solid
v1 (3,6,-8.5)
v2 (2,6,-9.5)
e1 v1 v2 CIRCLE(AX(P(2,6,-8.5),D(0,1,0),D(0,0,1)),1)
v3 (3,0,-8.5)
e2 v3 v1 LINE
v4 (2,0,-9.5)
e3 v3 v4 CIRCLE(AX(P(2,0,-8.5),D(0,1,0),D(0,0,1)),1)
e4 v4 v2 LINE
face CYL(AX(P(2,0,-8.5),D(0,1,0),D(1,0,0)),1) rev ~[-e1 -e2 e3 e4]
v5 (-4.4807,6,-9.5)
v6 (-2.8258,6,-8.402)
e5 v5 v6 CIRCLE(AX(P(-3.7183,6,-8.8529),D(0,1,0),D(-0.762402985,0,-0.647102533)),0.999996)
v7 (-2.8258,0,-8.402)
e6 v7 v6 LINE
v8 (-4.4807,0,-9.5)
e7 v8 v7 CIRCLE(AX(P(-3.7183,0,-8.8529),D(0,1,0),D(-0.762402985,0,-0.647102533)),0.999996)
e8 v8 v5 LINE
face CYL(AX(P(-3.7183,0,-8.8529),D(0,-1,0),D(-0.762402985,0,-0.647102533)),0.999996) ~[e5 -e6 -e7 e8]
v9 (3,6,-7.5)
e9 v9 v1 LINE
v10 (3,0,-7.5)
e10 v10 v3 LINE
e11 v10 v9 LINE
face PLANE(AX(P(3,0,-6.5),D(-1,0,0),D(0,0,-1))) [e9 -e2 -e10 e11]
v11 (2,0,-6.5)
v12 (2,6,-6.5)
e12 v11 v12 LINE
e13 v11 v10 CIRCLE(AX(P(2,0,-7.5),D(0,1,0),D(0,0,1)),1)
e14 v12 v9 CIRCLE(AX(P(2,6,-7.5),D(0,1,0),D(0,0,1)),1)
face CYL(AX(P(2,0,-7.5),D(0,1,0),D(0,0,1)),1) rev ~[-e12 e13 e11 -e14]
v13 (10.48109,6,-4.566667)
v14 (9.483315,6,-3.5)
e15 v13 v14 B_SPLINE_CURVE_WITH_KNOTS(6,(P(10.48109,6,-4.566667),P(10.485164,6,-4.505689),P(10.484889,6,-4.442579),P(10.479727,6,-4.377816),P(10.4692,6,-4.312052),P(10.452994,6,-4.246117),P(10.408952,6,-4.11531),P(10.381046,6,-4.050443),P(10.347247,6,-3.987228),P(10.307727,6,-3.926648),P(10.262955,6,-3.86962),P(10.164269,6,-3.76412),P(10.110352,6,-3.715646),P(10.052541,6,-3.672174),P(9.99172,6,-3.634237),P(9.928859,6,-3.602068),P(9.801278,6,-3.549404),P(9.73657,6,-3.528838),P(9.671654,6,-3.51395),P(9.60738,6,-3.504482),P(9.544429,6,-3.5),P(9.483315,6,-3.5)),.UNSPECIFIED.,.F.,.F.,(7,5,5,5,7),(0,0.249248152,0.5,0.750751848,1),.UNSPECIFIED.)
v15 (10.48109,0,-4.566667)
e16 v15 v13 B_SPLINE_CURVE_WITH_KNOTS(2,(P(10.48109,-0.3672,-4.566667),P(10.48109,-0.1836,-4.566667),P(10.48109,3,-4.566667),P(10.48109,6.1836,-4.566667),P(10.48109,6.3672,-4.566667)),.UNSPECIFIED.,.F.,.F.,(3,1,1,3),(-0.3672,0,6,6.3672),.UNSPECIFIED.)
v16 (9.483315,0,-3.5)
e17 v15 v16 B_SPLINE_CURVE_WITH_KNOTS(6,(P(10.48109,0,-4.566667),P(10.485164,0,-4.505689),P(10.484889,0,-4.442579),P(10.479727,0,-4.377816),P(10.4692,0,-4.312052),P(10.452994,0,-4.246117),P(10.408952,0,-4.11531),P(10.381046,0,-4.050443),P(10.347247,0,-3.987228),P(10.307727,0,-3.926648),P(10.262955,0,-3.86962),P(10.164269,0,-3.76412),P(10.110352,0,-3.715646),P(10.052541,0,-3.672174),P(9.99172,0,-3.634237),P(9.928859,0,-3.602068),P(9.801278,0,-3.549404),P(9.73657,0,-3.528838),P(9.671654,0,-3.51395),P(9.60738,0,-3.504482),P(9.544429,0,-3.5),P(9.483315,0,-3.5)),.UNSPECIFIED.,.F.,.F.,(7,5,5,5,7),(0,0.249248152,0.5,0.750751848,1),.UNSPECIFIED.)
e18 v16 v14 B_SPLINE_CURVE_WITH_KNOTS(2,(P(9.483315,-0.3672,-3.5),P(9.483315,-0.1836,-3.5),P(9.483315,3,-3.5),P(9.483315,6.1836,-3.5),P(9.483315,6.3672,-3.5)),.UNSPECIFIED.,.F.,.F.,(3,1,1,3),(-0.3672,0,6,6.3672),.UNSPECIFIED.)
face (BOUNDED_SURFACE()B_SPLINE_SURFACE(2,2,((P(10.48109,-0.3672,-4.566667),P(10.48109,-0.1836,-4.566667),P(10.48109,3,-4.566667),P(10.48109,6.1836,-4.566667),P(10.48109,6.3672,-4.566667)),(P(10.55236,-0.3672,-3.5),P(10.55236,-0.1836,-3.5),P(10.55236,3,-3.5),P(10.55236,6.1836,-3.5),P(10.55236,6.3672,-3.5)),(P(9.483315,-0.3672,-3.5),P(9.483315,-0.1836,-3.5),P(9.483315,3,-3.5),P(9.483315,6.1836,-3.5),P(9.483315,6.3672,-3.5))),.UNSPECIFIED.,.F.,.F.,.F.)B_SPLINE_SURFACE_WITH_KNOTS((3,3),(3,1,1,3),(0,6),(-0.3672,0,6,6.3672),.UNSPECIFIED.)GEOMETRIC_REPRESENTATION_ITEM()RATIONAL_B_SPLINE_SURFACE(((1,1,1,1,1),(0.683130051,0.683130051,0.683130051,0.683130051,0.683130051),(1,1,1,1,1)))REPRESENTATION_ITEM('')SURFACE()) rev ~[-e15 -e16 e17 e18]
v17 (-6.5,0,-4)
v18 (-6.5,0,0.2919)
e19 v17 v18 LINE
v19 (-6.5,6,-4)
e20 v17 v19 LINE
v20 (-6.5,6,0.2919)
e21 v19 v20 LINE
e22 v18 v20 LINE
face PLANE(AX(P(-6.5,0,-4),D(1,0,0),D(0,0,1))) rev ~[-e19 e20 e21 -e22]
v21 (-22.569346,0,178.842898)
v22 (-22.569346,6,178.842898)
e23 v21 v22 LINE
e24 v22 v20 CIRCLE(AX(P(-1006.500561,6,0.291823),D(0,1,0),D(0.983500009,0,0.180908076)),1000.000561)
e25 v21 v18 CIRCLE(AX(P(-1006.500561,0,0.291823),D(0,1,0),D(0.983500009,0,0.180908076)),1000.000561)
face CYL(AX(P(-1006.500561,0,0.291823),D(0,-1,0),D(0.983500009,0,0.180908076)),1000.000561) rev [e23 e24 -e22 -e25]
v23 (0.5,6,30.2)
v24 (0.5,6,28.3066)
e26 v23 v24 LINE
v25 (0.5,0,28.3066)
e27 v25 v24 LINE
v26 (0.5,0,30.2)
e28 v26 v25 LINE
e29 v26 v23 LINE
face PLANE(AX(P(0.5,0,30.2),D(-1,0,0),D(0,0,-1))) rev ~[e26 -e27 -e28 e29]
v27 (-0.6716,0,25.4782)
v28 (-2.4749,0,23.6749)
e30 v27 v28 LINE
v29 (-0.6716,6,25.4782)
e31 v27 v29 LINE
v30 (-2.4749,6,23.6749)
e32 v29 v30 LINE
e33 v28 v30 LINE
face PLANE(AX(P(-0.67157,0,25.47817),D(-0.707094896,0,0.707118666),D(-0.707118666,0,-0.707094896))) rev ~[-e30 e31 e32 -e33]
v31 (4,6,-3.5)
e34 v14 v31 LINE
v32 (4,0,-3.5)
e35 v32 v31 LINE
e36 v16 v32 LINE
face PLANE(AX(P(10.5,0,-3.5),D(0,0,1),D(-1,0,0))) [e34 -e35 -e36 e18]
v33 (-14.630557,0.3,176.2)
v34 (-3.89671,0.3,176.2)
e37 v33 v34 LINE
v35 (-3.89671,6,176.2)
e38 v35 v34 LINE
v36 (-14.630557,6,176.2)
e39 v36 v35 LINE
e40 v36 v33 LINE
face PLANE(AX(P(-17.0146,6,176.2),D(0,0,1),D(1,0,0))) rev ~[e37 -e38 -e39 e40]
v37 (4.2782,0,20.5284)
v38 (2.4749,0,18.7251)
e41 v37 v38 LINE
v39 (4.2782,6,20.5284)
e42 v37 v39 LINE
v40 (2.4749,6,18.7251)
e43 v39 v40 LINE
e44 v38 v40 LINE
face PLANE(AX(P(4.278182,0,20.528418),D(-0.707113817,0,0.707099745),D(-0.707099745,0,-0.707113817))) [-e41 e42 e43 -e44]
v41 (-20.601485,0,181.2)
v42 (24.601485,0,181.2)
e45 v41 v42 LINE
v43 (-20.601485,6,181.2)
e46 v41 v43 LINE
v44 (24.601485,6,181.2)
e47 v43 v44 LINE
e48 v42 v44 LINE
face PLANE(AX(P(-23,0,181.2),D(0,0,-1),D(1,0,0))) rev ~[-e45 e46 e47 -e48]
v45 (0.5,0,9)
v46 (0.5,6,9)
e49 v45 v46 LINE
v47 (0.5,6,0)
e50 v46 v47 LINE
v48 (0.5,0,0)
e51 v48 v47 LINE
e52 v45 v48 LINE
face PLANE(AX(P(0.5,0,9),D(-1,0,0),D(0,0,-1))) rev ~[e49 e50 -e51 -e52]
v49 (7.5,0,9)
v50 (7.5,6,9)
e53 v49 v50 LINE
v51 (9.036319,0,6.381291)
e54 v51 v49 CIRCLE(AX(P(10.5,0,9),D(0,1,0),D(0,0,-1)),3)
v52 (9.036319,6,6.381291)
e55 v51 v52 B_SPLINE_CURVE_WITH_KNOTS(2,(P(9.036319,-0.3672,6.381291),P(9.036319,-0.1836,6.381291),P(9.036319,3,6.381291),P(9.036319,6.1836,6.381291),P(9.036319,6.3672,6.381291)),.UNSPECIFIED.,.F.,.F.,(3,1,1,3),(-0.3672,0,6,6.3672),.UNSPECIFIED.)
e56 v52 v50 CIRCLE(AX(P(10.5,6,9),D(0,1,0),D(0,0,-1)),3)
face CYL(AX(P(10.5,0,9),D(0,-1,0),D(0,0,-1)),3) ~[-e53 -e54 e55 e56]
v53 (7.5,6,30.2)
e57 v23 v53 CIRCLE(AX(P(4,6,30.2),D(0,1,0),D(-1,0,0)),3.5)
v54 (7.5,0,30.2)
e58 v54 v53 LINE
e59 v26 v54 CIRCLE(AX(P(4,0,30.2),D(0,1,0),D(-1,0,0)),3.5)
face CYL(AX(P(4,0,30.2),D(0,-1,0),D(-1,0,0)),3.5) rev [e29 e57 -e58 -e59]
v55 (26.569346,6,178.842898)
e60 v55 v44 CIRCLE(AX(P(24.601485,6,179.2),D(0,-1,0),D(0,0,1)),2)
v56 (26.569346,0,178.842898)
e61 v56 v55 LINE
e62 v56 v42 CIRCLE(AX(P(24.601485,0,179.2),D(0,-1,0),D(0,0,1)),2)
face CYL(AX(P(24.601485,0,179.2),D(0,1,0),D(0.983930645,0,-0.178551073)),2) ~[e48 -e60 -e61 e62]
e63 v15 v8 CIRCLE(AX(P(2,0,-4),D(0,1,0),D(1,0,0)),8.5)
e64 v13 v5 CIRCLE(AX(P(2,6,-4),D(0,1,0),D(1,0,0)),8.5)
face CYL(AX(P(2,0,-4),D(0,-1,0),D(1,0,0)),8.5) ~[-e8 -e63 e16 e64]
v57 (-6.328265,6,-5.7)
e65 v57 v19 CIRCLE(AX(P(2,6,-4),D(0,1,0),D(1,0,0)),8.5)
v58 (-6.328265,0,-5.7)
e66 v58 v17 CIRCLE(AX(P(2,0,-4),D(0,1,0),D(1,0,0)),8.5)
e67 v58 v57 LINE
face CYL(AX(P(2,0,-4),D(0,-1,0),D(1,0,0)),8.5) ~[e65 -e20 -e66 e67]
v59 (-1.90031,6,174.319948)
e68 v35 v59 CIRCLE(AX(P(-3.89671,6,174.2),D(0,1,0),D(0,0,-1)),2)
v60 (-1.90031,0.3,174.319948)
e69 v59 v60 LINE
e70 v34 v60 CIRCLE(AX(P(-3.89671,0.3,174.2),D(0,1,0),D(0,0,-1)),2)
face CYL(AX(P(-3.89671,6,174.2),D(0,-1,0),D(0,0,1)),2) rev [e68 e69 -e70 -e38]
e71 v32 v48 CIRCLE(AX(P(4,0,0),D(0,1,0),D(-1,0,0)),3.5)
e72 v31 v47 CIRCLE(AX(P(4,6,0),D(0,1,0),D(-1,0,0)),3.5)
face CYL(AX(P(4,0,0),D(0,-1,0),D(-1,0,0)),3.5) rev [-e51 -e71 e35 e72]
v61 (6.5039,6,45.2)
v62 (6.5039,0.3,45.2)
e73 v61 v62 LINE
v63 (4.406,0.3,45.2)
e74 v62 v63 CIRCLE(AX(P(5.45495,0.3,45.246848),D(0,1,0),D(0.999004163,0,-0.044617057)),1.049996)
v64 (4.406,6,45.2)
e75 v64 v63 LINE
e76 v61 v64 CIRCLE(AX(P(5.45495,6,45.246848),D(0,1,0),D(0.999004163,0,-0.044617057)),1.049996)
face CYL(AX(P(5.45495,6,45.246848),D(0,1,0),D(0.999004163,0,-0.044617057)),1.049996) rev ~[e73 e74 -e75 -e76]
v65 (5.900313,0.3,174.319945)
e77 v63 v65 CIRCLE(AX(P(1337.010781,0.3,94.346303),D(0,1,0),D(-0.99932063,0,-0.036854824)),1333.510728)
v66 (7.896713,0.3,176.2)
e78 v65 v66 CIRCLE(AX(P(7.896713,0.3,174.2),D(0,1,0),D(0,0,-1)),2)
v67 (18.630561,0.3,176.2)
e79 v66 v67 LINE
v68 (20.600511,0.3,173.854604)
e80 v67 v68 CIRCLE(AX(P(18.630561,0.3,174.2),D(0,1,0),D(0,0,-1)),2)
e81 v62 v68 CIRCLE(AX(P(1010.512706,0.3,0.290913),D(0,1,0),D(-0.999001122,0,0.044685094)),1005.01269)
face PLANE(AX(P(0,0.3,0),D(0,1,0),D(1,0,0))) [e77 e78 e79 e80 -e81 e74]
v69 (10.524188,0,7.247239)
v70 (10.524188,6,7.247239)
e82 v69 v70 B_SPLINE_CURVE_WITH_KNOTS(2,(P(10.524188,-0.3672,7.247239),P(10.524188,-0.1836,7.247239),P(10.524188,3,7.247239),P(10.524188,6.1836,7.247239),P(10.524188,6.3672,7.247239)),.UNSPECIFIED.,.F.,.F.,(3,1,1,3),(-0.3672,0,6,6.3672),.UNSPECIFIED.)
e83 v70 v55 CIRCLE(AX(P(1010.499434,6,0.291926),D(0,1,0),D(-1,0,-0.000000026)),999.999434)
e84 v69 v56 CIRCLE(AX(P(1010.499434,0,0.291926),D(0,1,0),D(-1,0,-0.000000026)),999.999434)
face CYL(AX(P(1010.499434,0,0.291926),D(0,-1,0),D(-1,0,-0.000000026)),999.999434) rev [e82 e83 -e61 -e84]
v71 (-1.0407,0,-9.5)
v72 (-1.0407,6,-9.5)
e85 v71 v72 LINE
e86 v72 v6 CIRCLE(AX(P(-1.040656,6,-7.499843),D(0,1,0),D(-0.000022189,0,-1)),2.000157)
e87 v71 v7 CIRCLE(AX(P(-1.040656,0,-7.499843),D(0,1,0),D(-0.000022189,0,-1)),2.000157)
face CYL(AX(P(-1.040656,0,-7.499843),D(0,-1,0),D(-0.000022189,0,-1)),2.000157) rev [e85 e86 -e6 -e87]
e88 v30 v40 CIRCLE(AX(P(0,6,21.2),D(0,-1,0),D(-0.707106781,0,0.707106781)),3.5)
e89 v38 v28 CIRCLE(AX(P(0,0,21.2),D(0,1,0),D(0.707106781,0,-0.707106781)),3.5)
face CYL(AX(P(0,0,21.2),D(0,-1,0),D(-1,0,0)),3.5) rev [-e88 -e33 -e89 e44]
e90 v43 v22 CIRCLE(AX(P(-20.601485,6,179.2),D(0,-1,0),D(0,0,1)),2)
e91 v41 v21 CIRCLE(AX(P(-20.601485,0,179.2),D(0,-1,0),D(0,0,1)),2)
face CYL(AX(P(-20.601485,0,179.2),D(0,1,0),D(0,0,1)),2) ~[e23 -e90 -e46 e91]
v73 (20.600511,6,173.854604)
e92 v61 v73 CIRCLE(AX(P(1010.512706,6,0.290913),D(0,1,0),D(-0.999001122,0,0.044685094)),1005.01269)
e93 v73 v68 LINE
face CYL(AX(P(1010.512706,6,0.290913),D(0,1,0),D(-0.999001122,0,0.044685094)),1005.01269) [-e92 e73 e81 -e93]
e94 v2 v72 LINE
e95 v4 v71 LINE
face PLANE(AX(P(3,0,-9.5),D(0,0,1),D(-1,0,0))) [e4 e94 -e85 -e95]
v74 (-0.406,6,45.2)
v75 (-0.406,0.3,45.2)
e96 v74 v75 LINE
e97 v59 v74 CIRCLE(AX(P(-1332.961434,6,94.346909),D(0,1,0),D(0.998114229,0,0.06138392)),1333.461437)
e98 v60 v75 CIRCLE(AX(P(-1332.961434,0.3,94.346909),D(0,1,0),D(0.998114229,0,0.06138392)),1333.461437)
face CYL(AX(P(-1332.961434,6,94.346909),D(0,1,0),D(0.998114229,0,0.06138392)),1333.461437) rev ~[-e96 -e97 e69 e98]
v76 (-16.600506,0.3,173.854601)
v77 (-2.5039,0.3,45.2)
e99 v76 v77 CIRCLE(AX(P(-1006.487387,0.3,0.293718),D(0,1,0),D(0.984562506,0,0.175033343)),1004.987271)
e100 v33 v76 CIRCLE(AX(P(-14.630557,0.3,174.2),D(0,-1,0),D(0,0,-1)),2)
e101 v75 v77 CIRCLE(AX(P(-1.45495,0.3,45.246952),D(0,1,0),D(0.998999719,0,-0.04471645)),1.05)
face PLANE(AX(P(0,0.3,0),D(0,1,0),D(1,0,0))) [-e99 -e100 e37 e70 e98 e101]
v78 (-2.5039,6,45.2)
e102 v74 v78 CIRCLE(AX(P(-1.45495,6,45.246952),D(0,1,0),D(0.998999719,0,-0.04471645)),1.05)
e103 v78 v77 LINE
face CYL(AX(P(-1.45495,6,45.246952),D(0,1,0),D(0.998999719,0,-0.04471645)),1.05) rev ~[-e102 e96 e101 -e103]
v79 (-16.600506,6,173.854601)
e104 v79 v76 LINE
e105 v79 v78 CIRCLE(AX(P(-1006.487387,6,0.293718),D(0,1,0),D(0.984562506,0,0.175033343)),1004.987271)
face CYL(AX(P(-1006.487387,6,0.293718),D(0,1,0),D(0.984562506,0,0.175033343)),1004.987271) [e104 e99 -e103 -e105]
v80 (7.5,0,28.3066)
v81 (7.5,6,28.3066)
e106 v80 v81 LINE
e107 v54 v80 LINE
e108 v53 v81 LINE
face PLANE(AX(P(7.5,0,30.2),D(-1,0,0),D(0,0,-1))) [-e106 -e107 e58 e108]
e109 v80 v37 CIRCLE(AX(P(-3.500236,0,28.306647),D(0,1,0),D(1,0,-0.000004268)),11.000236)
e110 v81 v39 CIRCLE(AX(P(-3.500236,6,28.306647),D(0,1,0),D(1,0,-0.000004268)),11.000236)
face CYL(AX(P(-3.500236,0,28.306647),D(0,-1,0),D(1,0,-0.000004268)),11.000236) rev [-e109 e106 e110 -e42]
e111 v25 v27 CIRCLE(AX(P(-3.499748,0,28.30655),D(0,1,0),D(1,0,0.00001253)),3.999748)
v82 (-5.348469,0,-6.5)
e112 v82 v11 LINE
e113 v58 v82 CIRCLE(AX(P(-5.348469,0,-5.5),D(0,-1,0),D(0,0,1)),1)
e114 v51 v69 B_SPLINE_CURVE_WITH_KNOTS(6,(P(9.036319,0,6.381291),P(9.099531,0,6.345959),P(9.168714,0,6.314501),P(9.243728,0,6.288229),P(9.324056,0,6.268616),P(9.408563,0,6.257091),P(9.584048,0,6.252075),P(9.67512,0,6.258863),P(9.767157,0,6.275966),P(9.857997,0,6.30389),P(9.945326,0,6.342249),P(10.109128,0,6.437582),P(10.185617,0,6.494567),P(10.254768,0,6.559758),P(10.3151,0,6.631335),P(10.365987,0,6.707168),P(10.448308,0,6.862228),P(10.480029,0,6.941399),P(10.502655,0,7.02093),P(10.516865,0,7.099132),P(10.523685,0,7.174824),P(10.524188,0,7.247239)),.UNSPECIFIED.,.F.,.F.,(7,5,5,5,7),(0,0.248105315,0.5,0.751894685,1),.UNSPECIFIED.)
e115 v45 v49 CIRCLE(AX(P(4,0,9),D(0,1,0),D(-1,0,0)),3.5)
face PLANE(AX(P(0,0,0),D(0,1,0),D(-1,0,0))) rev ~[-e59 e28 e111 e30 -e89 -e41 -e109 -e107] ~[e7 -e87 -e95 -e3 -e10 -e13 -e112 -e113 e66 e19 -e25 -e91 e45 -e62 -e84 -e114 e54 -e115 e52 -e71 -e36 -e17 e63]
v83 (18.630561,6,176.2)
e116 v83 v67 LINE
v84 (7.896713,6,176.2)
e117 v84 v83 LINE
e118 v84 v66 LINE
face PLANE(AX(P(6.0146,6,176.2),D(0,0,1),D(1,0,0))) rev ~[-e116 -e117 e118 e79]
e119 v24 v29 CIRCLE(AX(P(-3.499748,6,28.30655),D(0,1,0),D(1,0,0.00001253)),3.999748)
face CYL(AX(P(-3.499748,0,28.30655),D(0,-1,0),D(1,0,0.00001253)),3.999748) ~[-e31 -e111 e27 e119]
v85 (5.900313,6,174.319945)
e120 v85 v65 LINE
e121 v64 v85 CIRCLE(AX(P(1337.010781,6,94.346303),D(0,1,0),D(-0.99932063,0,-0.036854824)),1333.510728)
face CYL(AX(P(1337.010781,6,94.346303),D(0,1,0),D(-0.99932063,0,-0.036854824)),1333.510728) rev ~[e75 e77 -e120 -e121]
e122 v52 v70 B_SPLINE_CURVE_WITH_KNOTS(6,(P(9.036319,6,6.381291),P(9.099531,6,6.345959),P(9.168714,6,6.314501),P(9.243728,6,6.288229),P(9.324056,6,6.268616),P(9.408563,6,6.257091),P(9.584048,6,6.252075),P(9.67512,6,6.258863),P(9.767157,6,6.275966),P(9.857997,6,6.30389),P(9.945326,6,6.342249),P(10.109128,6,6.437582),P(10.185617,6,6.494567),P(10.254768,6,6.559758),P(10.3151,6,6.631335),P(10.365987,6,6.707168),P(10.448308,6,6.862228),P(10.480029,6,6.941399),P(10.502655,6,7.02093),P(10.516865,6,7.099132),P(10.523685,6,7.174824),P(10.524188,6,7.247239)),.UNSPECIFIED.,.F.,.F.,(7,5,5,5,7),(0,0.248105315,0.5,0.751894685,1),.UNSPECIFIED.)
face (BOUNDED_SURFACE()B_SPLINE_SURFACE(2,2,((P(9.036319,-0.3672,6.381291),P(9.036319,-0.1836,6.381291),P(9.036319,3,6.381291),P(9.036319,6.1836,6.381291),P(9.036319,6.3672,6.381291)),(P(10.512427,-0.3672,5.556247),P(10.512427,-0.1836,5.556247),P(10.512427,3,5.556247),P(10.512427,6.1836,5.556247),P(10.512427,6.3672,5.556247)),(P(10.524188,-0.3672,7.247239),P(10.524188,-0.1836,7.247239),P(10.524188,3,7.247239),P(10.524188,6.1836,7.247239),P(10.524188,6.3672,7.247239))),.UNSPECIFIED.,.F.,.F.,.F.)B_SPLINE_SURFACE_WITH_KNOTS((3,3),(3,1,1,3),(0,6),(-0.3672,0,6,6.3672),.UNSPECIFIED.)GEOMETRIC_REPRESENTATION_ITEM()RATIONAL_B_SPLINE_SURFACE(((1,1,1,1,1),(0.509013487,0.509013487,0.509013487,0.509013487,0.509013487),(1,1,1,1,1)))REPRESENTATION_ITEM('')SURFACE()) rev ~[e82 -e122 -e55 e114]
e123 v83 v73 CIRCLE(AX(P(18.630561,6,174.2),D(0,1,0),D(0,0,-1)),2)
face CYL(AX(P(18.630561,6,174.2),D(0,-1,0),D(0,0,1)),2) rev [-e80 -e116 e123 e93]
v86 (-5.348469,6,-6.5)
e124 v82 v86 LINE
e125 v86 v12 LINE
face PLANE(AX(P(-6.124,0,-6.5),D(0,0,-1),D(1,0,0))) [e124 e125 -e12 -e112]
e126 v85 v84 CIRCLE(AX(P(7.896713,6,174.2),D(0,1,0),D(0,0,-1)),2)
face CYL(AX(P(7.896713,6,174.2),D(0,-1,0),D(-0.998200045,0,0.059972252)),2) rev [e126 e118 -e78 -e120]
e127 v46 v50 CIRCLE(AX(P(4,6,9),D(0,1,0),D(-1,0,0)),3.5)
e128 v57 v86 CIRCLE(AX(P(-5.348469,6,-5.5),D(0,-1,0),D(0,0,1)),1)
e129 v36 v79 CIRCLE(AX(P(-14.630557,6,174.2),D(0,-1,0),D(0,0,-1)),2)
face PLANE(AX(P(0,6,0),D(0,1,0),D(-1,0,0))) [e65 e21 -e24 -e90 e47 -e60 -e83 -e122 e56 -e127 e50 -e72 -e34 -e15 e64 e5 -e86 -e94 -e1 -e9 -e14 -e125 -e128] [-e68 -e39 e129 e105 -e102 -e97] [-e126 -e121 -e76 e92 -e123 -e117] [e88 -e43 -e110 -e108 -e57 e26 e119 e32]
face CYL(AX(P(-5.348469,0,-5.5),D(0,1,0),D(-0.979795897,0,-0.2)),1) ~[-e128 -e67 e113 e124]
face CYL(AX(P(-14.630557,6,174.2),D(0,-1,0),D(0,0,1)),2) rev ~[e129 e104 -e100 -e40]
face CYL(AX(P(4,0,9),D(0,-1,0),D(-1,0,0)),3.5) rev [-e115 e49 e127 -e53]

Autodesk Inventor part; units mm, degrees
ref_plane "YZ Plane" through (0, 0, 0) normal (1, 0, 0) x (0, 1, 0)
ref_plane "XZ Plane" through (0, 0, 0) normal (0, 1, 0) x (-1, 0, 0)
ref_plane "XY Plane" through (0, 0, 0) normal (0, 0, 1) x (1, 0, 0)
sketch "スケッチ1" plane through (0, 0, 0) normal (0, 1, 0) x (-1, 0, 0)
  circle A0 centre (0, 0) radius 3 construction
  circle A1 centre (0, 21.2) radius 3 construction
  line L0 (3, 24.2) -> (-3, 24.2) construction
  line L1 (-3, 24.2) -> (-3, -3) construction
  line L2 (-3, -3) -> (3, -3) construction
  line L3 (3, -3) -> (3, 24.2) construction
  circle A2 centre (0, 21.2) radius 3.5
  circle A3 centre (0, 0) radius 3.5 construction
  line L4 (0, 21.2) -> (-4, 25.2)
  line L5 (-4, 25.2) -> (-4, 30.2)
  circle A4 centre (-4, 30.2) radius 3.5
  line L6 (-0.5, 30.2) -> (-0.5, 26.6497)
  line L7 (-0.5, 26.6497) -> (2.4749, 23.6749)
  line L8 (-7.5, 30.2) -> (-7.5, 23.7503)
  line L9 (-7.5, 23.7503) -> (-2.4749, 18.7251)
  arc A5 (-0.5, 28.3066) -> (0.6716, 25.4782) centre (3.5, 28.3066) ccw
  arc A6 (-7.5, 28.3066) -> (-4.2782, 20.5284) centre (3.5, 28.3066) ccw
  circle A7 centre (-4, 9) radius 3.5
  line L10 (2.4749, 2.4749) -> (0.6716, 4.2782) construction
  arc A8 (-0.5, 7.1066) -> (0.6716, 4.2782) centre (3.5, 7.1066) ccw construction
  line L11 (-10.5, 0.2919) -> (-10.5, -4)
  line L12 (6.5, -4) -> (6.5, 0.2919)
  arc A9 (-10.5, -4) -> (6.5, -4) centre (-2, -4) ccw
  arc A10 (23, 181.2) -> (6.5, 0.2919) centre (1006.5, 0.2919) ccw
  arc A11 (-10.5, 0.2919) -> (-27, 181.2) centre (-1010.5, 0.2919) ccw
  line L13 (6.124, -6.5) -> (-3, -6.5)
  line L14 (-3, -6.5) -> (-3, -9.5)
  line L15 (-3, -9.5) -> (6.124, -9.5)
  line L16 (6.124, -9.5) -> (6.124, -6.5)
  arc A12 (4.4807, -9.5) -> (2.9559, -9.5) centre (3.7183, -8.8529) ccw
  arc A13 (1.0407, -9.5) -> (2.8258, -8.402) centre (1.0407, -7.5) ccw
  line L17 (23, 181.2) -> (-27, 181.2)
  circle A14 centre (-4, 0) radius 3.5
  line L18 (-0.5, 9) -> (-0.5, 0)
  line L19 (-7.5, 0) -> (-7.5, 9)
  line L20 (-4, 3.5) -> (-10.5, 3.5)
  line L21 (-10.5, 3.5) -> (-10.5, -3.5)
  line L22 (-10.5, -3.5) -> (-4, -3.5)
  line L23 (-4, -3.5) -> (-4, 3.5) construction
  arc A15 (-10.5, 6) -> (-7.5, 9) centre (-10.5, 9) ccw
  line L24 (-10.5, 6) -> (-10.6533, 6)
  point P0 (0, -3)
  point P1 (-3, -8)
  point P2 (-10.5, 0)
  point P3 (-7.5, 3.5)
  point P4 (-10.5163, 6)
  dimension "d7" = 7
  dimension "d0" = 6
  dimension "d1" = 6
  dimension "d2" = 21.2
  dimension "d3" = 27.2
  dimension "d4" = 3
  dimension "d5" = 6
  dimension "d6" = 7
  dimension "d8" = 5
  dimension "d9" = 135
  dimension "d10" = 4
  dimension "d11" = 4
  dimension "d12" = 21.2
  dimension "d14" = 6.5
  dimension "d15" = 4
  dimension "d17" = 3
  dimension "d18" = 1
  dimension "d19" = 2
  dimension "d20" = 1000
  dimension "d21" = 50
  dimension "d22" = 160
  dimension "d23" = 3
  dimension "d24" = 6.5
  dimension "d25" = 2.5
extrude "押し出し1" add sketch "スケッチ1" along normal blind 6 contours L9 L8 A6 | A7 A15 L24 A11 L17 A10 L12 A9 L13 L14 L15 L11 L22 A14 L18 | L15 A12 | L15 A13 A12
fillet "フィレット1" radius 1 5 edges at (10.5163, 3, 6) (3, 3, -9.5) (3, 3, -6.5) (-6.124, 3, -6.5) (10.5, 3, -3.5)
sketch "スケッチ2" plane through (0, 6, 0) normal (0, 1, 0) x (1, 0, 0)
  arc A0 (9.4833, 3.5) -> (10.4811, 4.5667) centre (9.4833, 4.5) ccw projected
  arc A1 (10.4811, 4.5667) -> (-4.4807, 9.5) centre (2, 4) ccw projected
  arc A2 (-4.4807, 9.5) -> (-2.8258, 8.402) centre (-3.7183, 8.8529) ccw projected
  arc A3 (-1.0407, 9.5) -> (-2.8258, 8.402) centre (-1.0407, 7.5) ccw projected
  line L0 (-1.0407, 9.5) -> (2, 9.5) projected
  arc A4 (3, 8.5) -> (2, 9.5) centre (2, 8.5) ccw projected
  line L1 (3, 8.5) -> (3, 7.5) projected
  arc A5 (2, 6.5) -> (3, 7.5) centre (2, 7.5) ccw projected
  line L2 (2, 6.5) -> (-5.3485, 6.5) projected
  arc A6 (-5.3485, 6.5) -> (-6.3283, 5.7) centre (-5.3485, 5.5) ccw projected
  arc A7 (-6.3283, 5.7) -> (-6.5, 4) centre (2, 4) ccw projected
  line L3 (-6.5, 4) -> (-6.5, -0.2919) projected
  arc A8 (-23, -181.2) -> (-6.5, -0.2919) centre (-1006.5, -0.2919) ccw projected
  line L4 (-23, -181.2) -> (27, -181.2) projected
  arc A9 (10.5242, -7.2472) -> (27, -181.2) centre (1010.5, -0.2919) ccw projected
  arc A10 (10.5242, -7.2472) -> (9.0363, -6.3813) centre (9.5242, -7.2542) ccw projected
  arc A11 (9.0363, -6.3813) -> (7.5, -9) centre (10.5, -9) ccw projected
  arc A12 (0.5, -9) -> (7.5, -9) centre (4, -9) ccw projected
  line L5 (0.5, -9) -> (0.5, 0) projected
  arc A13 (4, 3.5) -> (0.5, 0) centre (4, 0) ccw projected
  line L6 (4, 3.5) -> (9.4833, 3.5) projected
  arc A14 (7.5, -28.3066) -> (4.2782, -20.5284) centre (-3.5, -28.3066) ccw projected
  line L7 (7.5, -28.3066) -> (7.5, -30.2) projected
  arc A15 (0.5, -30.2) -> (7.5, -30.2) centre (4, -30.2) ccw projected
  line L8 (0.5, -30.2) -> (0.5, -28.3066) projected
  arc A16 (0.5, -28.3066) -> (-0.6716, -25.4782) centre (-3.5, -28.3066) ccw projected
  line L9 (-0.6716, -25.4782) -> (-2.4749, -23.6749) projected
  arc A17 (2.4749, -18.7251) -> (-2.4749, -23.6749) centre (0, -21.2) ccw projected
  line L10 (2.4749, -18.7251) -> (4.2782, -20.5284) projected
  arc A18 (-17.0146, -176.2) -> (-2.5039, -45.2) centre (-1006.5, -0.2919) ccw
  arc A19 (6.5039, -45.2) -> (21.0146, -176.2) centre (1010.5, -0.2919) ccw
  arc A20 (-23, -181.2) -> (-6.5, -0.2919) centre (-1006.5, -0.2919) ccw projected
  arc A21 (10.5242, -7.2472) -> (27, -181.2) centre (1010.5, -0.2919) ccw projected
  arc A22 (-0.406, -45.2) -> (-2.5039, -45.2) centre (-1.4549, -45.2469) ccw
  arc A23 (6.5039, -45.2) -> (4.406, -45.2) centre (5.4549, -45.2469) ccw
  arc A24 (-2.0146, -176.2) -> (-0.406, -45.2) centre (-1332.9861, -94.346) ccw
  arc A25 (4.406, -45.2) -> (6.0146, -176.2) centre (1336.9861, -94.346) ccw
  line L11 (-17.0146, -176.2) -> (-2.0146, -176.2)
  line L12 (6.0146, -176.2) -> (21.0146, -176.2)
  line L13 (0.5, -9) -> (0.5, 0) projected
  point P0 (0, 0)
  dimension "d38" = 15
  dimension "d39" = 5
  dimension "d40" = 5
  dimension "d41" = 1.05
  dimension "d42" = 1.05
  dimension "d43" = 15
  dimension "d44" = 15
  dimension "d46" = 5
extrude "押し出し3" cut sketch "スケッチ2" against normal blind 5.7 contours A18 A22 A24 L11 | A19 L12 A25 A23
fillet "フィレット2" radius 2 6 edges at (-17.0146, 3.15, 176.2) (-2.0146, 3.15, 176.2) (6.0146, 3.15, 176.2) (21.0146, 3.15, 176.2) (27, 3, 181.2) (-23, 3, 181.2)
equation "\"d7\" = d6"
equation "\"d12\" = d2"
properties part number "wing" material "ポリカーボネート、スモーク"
